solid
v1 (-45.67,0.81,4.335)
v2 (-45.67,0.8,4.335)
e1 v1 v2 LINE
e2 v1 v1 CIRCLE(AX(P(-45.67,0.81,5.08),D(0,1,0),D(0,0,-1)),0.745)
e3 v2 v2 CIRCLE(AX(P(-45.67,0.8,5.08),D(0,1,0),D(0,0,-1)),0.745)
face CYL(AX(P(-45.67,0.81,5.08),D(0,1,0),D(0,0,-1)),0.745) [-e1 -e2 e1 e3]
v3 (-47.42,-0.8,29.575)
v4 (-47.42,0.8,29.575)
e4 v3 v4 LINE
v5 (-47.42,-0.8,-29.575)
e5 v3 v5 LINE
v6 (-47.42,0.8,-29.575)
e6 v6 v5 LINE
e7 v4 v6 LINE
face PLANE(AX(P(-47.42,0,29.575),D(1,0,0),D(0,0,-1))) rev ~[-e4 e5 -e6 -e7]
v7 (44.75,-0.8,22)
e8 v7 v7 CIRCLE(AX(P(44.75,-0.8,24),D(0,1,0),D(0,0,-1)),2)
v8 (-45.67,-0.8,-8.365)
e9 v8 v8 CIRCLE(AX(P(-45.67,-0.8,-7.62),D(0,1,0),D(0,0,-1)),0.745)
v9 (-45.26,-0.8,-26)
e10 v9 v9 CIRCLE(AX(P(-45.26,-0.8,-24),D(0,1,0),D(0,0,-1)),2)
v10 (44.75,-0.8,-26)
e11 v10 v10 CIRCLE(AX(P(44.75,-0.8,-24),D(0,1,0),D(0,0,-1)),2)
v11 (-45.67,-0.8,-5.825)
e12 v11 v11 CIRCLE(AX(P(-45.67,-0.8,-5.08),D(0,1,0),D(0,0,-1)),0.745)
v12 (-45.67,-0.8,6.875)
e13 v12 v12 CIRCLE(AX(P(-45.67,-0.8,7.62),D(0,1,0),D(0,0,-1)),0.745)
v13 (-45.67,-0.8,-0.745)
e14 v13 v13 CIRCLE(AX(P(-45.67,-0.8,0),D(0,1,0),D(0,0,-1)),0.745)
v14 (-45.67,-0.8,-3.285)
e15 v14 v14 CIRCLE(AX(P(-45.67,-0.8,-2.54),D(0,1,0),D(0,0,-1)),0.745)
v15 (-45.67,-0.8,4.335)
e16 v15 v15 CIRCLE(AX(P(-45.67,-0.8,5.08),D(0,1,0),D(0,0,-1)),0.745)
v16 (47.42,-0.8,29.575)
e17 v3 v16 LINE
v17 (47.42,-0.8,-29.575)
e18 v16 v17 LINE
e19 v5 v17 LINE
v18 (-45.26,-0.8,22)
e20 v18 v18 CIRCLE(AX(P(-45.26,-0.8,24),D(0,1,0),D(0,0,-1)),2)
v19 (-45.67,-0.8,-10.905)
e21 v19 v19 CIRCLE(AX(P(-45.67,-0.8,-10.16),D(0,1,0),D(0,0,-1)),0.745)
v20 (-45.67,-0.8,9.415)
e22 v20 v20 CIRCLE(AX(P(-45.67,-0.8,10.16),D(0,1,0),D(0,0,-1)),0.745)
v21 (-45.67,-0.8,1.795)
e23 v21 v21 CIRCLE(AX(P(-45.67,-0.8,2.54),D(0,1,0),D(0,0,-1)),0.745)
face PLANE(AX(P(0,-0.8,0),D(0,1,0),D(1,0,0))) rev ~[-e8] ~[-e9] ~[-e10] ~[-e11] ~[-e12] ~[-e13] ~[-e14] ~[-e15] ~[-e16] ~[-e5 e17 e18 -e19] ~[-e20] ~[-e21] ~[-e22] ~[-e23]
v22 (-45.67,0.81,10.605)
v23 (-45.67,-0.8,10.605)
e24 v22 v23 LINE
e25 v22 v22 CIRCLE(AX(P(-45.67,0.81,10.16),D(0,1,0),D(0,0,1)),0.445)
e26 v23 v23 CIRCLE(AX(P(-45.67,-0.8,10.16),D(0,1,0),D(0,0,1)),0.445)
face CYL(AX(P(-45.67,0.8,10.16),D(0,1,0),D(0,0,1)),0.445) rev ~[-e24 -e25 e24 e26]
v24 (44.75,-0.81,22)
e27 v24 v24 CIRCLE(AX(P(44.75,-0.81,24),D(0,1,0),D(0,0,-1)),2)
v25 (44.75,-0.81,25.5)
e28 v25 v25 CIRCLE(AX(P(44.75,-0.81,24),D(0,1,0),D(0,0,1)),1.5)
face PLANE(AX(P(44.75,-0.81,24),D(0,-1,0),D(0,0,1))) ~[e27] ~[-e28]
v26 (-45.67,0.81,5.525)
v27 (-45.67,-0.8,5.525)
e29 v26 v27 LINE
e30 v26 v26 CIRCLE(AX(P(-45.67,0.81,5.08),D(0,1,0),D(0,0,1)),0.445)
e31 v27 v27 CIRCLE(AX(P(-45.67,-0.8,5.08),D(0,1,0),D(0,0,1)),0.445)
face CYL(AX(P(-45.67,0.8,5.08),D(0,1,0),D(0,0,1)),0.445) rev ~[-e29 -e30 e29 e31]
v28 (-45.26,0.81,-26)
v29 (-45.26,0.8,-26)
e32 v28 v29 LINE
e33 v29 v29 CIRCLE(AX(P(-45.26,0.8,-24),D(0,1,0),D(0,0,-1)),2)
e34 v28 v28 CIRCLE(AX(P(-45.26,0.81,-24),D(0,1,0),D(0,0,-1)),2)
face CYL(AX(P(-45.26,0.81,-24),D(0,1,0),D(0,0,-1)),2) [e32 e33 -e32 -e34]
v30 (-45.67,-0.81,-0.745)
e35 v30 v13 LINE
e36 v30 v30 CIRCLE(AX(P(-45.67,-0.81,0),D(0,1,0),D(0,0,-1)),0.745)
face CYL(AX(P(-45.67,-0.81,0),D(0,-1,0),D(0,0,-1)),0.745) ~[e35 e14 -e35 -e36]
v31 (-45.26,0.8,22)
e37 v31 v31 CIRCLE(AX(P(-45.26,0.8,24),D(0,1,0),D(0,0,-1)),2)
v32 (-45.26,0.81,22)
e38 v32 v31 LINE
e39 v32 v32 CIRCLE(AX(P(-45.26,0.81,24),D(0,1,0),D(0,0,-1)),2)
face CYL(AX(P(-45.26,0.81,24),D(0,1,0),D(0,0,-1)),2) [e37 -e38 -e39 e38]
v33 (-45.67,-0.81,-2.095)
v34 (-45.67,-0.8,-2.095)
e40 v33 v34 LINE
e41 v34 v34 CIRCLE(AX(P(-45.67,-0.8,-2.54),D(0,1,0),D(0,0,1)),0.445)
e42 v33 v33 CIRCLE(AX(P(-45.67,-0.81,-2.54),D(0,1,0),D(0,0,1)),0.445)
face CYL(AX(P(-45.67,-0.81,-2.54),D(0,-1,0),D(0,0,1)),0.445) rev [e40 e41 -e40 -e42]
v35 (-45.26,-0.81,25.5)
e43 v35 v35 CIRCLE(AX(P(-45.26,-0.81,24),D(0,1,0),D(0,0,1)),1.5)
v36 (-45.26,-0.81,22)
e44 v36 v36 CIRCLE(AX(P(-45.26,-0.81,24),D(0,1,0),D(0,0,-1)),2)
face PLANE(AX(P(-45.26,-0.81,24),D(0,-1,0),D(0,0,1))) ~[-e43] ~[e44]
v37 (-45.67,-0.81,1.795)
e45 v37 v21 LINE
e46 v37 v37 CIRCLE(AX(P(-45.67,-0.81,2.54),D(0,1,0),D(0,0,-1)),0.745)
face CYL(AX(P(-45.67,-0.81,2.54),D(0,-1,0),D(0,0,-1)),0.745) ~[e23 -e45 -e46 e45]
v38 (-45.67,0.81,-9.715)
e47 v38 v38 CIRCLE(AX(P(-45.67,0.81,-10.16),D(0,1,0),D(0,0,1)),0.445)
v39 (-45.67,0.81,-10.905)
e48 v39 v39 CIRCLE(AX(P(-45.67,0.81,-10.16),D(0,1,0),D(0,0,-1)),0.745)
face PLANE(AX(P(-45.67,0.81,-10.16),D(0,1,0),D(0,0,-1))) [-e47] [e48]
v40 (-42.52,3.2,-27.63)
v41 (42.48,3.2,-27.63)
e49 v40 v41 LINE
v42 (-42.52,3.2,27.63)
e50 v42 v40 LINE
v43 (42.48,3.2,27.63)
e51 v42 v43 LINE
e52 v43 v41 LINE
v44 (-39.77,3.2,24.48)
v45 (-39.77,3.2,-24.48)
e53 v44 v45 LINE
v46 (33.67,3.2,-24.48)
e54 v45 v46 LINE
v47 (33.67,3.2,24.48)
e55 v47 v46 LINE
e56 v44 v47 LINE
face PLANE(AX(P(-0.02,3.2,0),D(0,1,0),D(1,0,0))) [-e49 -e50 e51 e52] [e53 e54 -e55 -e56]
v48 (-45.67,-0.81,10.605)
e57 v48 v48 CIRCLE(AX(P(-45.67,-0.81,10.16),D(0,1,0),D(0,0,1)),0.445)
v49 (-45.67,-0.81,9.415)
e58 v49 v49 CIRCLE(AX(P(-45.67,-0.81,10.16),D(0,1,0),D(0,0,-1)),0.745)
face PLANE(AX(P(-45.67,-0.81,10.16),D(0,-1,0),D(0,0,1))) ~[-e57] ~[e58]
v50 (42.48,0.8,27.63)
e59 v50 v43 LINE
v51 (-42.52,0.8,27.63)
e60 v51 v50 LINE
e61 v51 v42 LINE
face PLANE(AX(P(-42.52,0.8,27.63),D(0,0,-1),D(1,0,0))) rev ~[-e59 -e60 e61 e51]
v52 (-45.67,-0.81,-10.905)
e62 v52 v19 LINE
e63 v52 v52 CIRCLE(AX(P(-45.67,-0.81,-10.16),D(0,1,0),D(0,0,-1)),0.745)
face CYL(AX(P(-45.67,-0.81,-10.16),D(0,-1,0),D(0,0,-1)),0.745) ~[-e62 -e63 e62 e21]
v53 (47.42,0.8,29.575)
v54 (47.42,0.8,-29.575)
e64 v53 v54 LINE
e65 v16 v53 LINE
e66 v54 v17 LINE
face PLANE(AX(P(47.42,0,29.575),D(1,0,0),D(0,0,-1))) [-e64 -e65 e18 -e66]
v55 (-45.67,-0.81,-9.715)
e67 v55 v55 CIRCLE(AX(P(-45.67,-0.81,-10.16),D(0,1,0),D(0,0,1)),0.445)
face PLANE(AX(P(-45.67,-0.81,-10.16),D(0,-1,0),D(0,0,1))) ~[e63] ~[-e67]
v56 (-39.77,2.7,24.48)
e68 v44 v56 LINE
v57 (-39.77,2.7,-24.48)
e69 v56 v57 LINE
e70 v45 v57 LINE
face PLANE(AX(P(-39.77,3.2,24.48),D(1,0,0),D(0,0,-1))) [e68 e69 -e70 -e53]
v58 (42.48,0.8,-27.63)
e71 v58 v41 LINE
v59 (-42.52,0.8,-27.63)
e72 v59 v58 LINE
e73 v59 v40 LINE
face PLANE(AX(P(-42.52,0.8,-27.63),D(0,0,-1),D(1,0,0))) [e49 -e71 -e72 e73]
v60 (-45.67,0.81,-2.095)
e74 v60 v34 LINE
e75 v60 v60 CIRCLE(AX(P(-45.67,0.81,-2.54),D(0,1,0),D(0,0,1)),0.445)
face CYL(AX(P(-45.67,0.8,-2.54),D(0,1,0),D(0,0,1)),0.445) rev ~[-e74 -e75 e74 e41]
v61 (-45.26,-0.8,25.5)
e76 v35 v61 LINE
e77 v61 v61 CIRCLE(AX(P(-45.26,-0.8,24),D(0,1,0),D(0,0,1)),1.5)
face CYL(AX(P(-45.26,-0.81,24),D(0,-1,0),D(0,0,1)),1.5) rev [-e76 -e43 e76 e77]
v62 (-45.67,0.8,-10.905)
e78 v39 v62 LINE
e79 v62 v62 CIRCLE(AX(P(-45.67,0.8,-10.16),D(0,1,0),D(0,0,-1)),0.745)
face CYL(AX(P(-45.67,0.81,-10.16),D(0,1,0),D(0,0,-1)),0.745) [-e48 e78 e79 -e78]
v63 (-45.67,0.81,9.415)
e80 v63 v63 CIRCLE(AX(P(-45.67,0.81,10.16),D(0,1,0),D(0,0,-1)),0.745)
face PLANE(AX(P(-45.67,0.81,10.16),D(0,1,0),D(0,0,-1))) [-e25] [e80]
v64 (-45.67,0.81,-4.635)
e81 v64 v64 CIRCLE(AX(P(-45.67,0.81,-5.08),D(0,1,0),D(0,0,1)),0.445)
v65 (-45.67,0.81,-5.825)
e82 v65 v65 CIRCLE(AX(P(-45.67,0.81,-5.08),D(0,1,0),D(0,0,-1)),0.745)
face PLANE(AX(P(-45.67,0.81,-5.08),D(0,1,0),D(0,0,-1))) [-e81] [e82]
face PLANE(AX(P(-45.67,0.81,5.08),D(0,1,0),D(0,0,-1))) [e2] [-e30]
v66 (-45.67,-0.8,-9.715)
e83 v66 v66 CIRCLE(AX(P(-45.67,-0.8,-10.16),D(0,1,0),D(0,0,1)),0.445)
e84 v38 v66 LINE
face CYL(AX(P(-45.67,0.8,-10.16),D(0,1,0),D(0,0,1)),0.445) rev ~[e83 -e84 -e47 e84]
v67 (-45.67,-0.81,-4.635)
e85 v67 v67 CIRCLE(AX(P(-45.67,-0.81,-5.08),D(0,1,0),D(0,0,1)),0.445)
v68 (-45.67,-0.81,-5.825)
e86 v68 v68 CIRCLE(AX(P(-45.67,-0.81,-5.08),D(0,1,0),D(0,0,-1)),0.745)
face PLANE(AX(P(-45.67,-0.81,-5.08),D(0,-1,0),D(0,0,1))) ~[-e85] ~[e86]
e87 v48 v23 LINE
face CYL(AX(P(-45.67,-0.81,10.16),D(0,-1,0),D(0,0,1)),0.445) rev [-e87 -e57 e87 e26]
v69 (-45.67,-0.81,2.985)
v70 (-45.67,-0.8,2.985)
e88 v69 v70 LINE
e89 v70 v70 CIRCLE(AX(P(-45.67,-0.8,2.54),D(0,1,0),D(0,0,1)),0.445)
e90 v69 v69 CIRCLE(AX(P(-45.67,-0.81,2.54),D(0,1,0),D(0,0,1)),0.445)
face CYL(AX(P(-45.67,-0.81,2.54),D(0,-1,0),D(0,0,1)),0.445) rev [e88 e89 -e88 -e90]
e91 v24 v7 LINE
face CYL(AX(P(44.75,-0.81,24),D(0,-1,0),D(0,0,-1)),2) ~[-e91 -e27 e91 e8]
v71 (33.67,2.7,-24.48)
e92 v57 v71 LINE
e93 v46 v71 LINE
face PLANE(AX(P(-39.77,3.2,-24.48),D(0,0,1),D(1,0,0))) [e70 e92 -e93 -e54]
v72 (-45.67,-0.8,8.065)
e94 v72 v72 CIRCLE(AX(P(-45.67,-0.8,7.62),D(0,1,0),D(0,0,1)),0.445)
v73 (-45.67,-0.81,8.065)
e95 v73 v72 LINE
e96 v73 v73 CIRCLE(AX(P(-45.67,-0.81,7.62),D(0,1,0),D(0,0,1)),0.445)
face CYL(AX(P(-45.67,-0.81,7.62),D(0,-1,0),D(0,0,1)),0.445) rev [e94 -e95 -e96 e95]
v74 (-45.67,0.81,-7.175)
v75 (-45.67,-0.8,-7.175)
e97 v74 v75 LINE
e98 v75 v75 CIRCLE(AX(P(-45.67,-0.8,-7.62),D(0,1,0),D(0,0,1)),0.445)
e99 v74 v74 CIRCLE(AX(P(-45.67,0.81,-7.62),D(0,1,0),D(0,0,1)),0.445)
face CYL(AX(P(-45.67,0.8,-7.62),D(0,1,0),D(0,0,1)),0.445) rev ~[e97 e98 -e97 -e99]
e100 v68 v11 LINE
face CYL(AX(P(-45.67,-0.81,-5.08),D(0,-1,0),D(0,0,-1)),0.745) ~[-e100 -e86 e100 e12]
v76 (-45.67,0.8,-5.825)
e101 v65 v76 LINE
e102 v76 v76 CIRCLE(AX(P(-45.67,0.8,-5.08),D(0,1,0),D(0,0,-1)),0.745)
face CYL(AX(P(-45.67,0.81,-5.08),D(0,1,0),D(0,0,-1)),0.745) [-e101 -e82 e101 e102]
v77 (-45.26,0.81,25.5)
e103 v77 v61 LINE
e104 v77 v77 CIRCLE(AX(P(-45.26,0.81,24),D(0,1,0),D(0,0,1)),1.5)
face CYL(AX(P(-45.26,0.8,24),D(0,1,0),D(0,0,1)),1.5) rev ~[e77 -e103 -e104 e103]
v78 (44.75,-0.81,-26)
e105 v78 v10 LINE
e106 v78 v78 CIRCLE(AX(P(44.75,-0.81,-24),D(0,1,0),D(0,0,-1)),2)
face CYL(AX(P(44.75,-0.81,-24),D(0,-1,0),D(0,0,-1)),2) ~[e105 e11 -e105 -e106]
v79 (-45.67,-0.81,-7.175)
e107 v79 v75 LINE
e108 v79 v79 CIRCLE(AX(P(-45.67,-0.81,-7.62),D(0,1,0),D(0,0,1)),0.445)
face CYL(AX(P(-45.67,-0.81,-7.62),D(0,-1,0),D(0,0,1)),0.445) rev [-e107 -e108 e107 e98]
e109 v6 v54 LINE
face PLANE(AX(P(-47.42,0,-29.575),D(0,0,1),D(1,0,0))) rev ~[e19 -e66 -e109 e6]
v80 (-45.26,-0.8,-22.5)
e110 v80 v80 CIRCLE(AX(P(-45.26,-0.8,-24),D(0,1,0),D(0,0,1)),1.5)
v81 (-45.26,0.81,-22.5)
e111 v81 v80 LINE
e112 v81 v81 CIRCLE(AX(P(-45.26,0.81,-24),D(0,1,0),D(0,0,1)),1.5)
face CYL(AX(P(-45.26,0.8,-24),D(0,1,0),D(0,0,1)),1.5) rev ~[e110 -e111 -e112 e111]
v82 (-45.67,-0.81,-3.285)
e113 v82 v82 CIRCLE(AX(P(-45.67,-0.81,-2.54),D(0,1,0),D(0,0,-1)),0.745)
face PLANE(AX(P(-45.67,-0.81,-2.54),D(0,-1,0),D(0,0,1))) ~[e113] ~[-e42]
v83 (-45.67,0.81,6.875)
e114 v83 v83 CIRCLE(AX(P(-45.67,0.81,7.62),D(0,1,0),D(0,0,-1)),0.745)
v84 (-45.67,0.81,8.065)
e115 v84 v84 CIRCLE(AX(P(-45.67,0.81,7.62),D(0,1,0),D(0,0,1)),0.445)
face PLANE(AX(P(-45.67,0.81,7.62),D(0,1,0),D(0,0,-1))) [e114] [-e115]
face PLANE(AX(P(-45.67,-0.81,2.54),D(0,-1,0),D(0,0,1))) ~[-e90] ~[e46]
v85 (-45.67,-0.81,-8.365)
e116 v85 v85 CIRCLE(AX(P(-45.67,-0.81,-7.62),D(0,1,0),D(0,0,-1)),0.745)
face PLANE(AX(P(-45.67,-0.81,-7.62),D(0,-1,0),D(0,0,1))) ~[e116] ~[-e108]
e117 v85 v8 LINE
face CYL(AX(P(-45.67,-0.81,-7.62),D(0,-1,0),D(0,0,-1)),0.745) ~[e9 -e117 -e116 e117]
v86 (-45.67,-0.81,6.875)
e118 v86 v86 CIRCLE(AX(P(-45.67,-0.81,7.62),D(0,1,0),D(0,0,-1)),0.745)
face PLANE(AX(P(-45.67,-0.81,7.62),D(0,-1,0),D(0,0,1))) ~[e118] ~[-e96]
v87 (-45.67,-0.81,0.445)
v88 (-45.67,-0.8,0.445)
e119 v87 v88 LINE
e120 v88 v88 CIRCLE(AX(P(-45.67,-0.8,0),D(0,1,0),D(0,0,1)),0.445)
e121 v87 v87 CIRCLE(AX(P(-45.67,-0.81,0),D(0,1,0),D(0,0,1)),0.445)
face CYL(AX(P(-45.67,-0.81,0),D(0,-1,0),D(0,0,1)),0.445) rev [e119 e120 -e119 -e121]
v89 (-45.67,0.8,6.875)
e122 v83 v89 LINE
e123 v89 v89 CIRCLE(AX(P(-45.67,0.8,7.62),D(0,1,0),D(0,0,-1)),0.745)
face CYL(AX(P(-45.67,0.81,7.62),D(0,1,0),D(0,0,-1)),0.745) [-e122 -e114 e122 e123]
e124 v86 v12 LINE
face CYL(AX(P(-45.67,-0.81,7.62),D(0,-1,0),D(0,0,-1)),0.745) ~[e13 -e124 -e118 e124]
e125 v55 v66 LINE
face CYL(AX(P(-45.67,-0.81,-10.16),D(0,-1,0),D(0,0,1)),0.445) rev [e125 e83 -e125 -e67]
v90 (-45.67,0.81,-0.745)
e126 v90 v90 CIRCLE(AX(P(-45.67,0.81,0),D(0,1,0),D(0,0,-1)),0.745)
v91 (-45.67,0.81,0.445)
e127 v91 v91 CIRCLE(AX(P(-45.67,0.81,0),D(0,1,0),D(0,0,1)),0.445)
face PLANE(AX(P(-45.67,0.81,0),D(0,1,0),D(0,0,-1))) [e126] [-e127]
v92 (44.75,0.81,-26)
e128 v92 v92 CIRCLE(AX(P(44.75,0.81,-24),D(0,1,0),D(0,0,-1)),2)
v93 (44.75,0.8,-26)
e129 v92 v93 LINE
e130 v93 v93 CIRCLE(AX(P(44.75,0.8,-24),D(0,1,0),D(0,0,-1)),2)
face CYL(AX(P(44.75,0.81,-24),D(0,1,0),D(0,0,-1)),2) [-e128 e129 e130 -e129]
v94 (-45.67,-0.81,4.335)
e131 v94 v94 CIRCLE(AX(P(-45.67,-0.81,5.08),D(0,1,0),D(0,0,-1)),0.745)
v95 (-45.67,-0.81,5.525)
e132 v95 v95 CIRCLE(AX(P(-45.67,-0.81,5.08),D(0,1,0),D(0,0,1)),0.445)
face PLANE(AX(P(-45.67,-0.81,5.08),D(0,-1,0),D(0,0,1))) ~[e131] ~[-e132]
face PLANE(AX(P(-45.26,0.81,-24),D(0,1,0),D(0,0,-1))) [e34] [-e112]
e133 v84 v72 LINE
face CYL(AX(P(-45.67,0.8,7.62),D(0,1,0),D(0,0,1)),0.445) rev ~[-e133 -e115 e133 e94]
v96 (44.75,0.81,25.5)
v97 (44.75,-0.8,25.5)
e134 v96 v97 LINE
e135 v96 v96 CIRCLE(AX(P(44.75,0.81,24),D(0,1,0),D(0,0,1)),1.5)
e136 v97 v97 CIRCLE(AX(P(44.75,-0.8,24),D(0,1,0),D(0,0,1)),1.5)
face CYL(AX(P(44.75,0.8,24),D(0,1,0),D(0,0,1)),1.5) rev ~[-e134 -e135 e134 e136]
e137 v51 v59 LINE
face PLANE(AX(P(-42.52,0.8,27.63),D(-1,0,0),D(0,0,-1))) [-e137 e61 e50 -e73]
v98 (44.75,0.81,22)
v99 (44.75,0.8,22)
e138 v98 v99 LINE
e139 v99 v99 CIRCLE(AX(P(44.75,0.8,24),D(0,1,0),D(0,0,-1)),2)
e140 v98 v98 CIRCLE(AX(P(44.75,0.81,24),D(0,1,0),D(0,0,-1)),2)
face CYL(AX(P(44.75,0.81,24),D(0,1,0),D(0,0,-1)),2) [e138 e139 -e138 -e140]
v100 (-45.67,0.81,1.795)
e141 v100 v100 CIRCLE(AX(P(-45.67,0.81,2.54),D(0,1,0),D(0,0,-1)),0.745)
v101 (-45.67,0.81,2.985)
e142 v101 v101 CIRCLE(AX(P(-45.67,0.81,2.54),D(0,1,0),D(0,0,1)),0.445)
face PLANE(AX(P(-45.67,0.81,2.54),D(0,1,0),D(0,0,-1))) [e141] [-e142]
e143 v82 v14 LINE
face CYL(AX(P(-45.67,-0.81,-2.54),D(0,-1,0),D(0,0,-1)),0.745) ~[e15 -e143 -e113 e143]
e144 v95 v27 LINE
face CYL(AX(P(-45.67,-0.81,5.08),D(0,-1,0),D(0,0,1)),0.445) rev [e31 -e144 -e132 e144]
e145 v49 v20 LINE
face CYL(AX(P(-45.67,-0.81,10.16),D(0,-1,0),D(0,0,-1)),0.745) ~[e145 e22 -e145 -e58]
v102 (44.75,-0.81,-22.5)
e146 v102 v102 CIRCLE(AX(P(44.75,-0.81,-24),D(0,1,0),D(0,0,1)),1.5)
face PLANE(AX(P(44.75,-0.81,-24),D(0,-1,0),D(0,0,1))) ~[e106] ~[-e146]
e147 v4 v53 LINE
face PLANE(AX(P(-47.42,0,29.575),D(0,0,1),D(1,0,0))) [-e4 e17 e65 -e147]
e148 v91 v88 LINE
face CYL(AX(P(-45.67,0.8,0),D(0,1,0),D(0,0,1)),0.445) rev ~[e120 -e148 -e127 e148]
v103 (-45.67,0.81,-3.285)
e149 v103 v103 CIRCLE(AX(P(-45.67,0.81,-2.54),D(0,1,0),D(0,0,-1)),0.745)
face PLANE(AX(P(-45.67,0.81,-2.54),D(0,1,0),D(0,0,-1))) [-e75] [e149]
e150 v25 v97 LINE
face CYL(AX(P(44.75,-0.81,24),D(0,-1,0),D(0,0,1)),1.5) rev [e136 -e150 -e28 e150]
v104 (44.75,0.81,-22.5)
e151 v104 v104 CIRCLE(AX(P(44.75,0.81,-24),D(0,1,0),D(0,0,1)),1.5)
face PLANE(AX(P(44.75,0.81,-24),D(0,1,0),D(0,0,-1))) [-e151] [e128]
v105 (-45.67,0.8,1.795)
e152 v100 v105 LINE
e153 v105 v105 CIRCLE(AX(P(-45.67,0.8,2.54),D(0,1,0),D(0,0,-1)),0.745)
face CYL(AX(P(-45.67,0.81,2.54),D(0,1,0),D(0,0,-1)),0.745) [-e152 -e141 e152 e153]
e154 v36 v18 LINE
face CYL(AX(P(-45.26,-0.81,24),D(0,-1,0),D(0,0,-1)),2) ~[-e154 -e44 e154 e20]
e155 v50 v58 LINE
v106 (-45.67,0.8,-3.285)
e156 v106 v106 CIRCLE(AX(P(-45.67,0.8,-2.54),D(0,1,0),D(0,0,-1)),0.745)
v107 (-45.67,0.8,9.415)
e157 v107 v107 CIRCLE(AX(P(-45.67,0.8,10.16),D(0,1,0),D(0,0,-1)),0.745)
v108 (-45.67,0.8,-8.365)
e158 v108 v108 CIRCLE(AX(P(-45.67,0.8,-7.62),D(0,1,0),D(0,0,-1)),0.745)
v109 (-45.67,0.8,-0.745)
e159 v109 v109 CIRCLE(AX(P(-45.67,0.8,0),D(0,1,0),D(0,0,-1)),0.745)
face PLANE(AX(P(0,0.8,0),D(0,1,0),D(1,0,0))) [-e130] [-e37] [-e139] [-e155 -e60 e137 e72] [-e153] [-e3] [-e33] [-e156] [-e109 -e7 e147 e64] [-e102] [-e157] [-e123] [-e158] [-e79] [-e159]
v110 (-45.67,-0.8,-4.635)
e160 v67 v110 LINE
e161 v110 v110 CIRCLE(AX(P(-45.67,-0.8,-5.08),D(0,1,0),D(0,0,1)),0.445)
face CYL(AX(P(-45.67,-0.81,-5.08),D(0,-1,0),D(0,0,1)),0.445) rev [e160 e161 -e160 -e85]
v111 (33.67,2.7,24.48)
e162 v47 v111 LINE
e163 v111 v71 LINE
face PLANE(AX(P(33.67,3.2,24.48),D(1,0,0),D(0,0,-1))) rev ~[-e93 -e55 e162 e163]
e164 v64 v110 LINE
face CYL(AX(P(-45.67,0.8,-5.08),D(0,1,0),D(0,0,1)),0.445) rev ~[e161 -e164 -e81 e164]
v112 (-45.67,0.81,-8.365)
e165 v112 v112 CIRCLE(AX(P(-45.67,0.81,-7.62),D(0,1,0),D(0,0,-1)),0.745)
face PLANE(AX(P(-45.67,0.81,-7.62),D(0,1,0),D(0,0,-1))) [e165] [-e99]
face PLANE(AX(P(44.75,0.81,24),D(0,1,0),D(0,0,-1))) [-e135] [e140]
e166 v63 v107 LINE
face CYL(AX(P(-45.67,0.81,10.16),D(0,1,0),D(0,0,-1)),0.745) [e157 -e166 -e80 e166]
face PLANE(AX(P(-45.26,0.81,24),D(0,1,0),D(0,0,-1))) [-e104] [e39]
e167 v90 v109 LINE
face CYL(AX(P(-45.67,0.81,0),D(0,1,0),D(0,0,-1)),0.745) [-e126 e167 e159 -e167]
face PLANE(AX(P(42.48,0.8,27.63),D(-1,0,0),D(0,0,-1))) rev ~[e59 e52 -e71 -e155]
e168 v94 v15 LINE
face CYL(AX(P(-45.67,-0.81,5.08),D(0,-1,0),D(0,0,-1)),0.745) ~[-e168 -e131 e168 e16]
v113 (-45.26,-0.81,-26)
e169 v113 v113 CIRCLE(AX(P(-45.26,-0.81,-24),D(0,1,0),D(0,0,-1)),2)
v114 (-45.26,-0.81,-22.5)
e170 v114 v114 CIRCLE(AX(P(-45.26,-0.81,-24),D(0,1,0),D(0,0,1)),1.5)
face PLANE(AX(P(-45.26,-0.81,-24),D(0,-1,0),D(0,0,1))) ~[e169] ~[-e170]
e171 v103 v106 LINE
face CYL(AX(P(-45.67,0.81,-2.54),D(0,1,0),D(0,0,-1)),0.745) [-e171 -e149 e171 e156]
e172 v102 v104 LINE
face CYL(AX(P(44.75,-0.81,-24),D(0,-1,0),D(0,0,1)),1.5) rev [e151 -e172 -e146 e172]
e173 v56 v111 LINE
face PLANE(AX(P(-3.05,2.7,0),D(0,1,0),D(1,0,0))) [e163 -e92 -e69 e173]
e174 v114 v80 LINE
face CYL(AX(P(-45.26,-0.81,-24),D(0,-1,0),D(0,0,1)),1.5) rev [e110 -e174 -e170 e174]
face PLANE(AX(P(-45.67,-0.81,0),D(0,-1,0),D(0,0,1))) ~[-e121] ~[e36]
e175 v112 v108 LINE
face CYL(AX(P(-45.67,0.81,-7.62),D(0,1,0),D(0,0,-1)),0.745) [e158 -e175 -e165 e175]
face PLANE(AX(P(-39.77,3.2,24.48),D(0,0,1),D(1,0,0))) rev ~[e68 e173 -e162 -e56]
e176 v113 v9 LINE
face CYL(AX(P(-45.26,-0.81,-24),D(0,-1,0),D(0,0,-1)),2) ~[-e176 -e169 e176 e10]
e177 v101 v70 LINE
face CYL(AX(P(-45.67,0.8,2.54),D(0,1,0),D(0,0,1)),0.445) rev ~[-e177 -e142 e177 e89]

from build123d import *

# Parameters (mm, degrees)
SCHIZZO1_W                   = 94.84
SCHIZZO1_H                   = 59.15
ESTRUSIONE_ESTRUSIONE1_DEPTH = 0.8
SCHIZZO2_R                   = 1.5
TAGLIO_ESTRUSIONE1_DEPTH     = 56.909722097
SCHIZZO3_R                   = 0.445
TAGLIO_ESTRUSIONE2_DEPTH     = 56.909722097
ESTRUSIONE_ESTRUSIONE2_START = 0.01
SCHIZZO4_R                   = 2
SCHIZZO4_R_2                 = 1.5
SCHIZZO4_R_3                 = 0.745
SCHIZZO4_R_4                 = 0.445
ESTRUSIONE_ESTRUSIONE2_DEPTH = 0.01
SCHIZZO5_W                   = 85
SCHIZZO5_H                   = 55.26
ESTRUSIONE_ESTRUSIONE3_DEPTH = 2.4
SCHIZZO7_W                   = 73.44
SCHIZZO7_H                   = 48.96
TAGLIO_ESTRUSIONE3_DEPTH     = 0.5


with BuildPart() as part:
    # Schizzo1 → Estrusione-Estrusione1 (new, symmetric)
    with BuildSketch(Plane(origin=(0, 0, 0), x_dir=(1, 0, 0), z_dir=(0, 1, 0))):
        Rectangle(SCHIZZO1_W, SCHIZZO1_H)
    extrude(amount=ESTRUSIONE_ESTRUSIONE1_DEPTH, both=True)

    # Schizzo2 → Taglio-Estrusione1 (cut, through all)
    with BuildSketch(Plane(origin=(0, 0.8, 0), x_dir=(1, 0, 0), z_dir=(0, 1, 0))):
        with Locations(Location((-45.26, 24, 0), (0, 0, 270))):
            Circle(SCHIZZO2_R)
        with Locations(Location((44.75, 24, 0), (0, 0, 270))):
            Circle(SCHIZZO2_R)
        with Locations(Location((44.75, -24, 0), (0, 0, 270))):
            Circle(SCHIZZO2_R)
        with Locations(Location((-45.26, -24, 0), (0, 0, 270))):
            Circle(SCHIZZO2_R)
    extrude(amount=-TAGLIO_ESTRUSIONE1_DEPTH, mode=Mode.SUBTRACT)

    # Schizzo3 → Taglio-Estrusione2 (cut, through all)
    with BuildSketch(Plane(origin=(0, 0.8, 0), x_dir=(1, 0, 0), z_dir=(0, 1, 0))):
        with Locations(Location((-45.67, 0, 0), (0, 0, 270))):
            Circle(SCHIZZO3_R)
        with Locations(Location((-45.67, -2.54, 0), (0, 0, 270))):
            Circle(SCHIZZO3_R)
        with Locations(Location((-45.67, -5.08, 0), (0, 0, 270))):
            Circle(SCHIZZO3_R)
        with Locations(Location((-45.67, -7.62, 0), (0, 0, 270))):
            Circle(SCHIZZO3_R)
        with Locations(Location((-45.67, -10.16, 0), (0, 0, 270))):
            Circle(SCHIZZO3_R)
        with Locations(Location((-45.67, 2.54, 0), (0, 0, 270))):
            Circle(SCHIZZO3_R)
        with Locations(Location((-45.67, 5.08, 0), (0, 0, 270))):
            Circle(SCHIZZO3_R)
        with Locations(Location((-45.67, 7.62, 0), (0, 0, 270))):
            Circle(SCHIZZO3_R)
        with Locations(Location((-45.67, 10.16, 0), (0, 0, 270))):
            Circle(SCHIZZO3_R)
    extrude(amount=-TAGLIO_ESTRUSIONE2_DEPTH, mode=Mode.SUBTRACT)

    # Schizzo4 → Estrusione-Estrusione2 (add)
    # profile 1 of 13: a face of its own
    with BuildSketch(Plane(origin=(0, 0.8, 0), x_dir=(1, 0, 0), z_dir=(0, 1, 0)).offset(ESTRUSIONE_ESTRUSIONE2_START)):
        with Locations(Location((44.75, 24, 0), (0, 0, 90))):
            Circle(SCHIZZO4_R)
        with Locations(Location((44.75, 24, 0), (0, 0, 270))):
            Circle(SCHIZZO4_R_2, mode=Mode.SUBTRACT)
    # profile 2 of 13: a face of its own
    with BuildSketch(Plane(origin=(0, 0.8, 0), x_dir=(1, 0, 0), z_dir=(0, 1, 0)).offset(ESTRUSIONE_ESTRUSIONE2_START)):
        with Locations(Location((-45.26, 24, 0), (0, 0, 90))):
            Circle(SCHIZZO4_R)
        with Locations(Location((-45.26, 24, 0), (0, 0, 270))):
            Circle(SCHIZZO4_R_2, mode=Mode.SUBTRACT)
    # profile 3 of 13: a face of its own
    with BuildSketch(Plane(origin=(0, 0.8, 0), x_dir=(1, 0, 0), z_dir=(0, 1, 0)).offset(ESTRUSIONE_ESTRUSIONE2_START)):
        with Locations(Location((-45.26, -24, 0), (0, 0, 90))):
            Circle(SCHIZZO4_R)
        with Locations(Location((-45.26, -24, 0), (0, 0, 270))):
            Circle(SCHIZZO4_R_2, mode=Mode.SUBTRACT)
    # profile 4 of 13: a face of its own
    with BuildSketch(Plane(origin=(0, 0.8, 0), x_dir=(1, 0, 0), z_dir=(0, 1, 0)).offset(ESTRUSIONE_ESTRUSIONE2_START)):
        with Locations(Location((44.75, -24, 0), (0, 0, 90))):
            Circle(SCHIZZO4_R)
        with Locations(Location((44.75, -24, 0), (0, 0, 270))):
            Circle(SCHIZZO4_R_2, mode=Mode.SUBTRACT)
    # profile 5 of 13: a face of its own
    with BuildSketch(Plane(origin=(0, 0.8, 0), x_dir=(1, 0, 0), z_dir=(0, 1, 0)).offset(ESTRUSIONE_ESTRUSIONE2_START)):
        with Locations(Location((-45.67, 10.16, 0), (0, 0, 90))):
            Circle(SCHIZZO4_R_3)
        with Locations(Location((-45.67, 10.16, 0), (0, 0, 270))):
            Circle(SCHIZZO4_R_4, mode=Mode.SUBTRACT)
    # profile 6 of 13: a face of its own
    with BuildSketch(Plane(origin=(0, 0.8, 0), x_dir=(1, 0, 0), z_dir=(0, 1, 0)).offset(ESTRUSIONE_ESTRUSIONE2_START)):
        with Locations(Location((-45.67, 7.62, 0), (0, 0, 90))):
            Circle(SCHIZZO4_R_3)
        with Locations(Location((-45.67, 7.62, 0), (0, 0, 270))):
            Circle(SCHIZZO4_R_4, mode=Mode.SUBTRACT)
    # profile 7 of 13: a face of its own
    with BuildSketch(Plane(origin=(0, 0.8, 0), x_dir=(1, 0, 0), z_dir=(0, 1, 0)).offset(ESTRUSIONE_ESTRUSIONE2_START)):
        with Locations(Location((-45.67, 5.08, 0), (0, 0, 90))):
            Circle(SCHIZZO4_R_3)
        with Locations(Location((-45.67, 5.08, 0), (0, 0, 270))):
            Circle(SCHIZZO4_R_4, mode=Mode.SUBTRACT)
    # profile 8 of 13: a face of its own
    with BuildSketch(Plane(origin=(0, 0.8, 0), x_dir=(1, 0, 0), z_dir=(0, 1, 0)).offset(ESTRUSIONE_ESTRUSIONE2_START)):
        with Locations(Location((-45.67, 2.54, 0), (0, 0, 90))):
            Circle(SCHIZZO4_R_3)
        with Locations(Location((-45.67, 2.54, 0), (0, 0, 270))):
            Circle(SCHIZZO4_R_4, mode=Mode.SUBTRACT)
    # profile 9 of 13: a face of its own
    with BuildSketch(Plane(origin=(0, 0.8, 0), x_dir=(1, 0, 0), z_dir=(0, 1, 0)).offset(ESTRUSIONE_ESTRUSIONE2_START)):
        with Locations(Location((-45.67, 0, 0), (0, 0, 90))):
            Circle(SCHIZZO4_R_3)
        with Locations(Location((-45.67, 0, 0), (0, 0, 270))):
            Circle(SCHIZZO4_R_4, mode=Mode.SUBTRACT)
    # profile 10 of 13: a face of its own
    with BuildSketch(Plane(origin=(0, 0.8, 0), x_dir=(1, 0, 0), z_dir=(0, 1, 0)).offset(ESTRUSIONE_ESTRUSIONE2_START)):
        with Locations(Location((-45.67, -2.54, 0), (0, 0, 90))):
            Circle(SCHIZZO4_R_3)
        with Locations(Location((-45.67, -2.54, 0), (0, 0, 270))):
            Circle(SCHIZZO4_R_4, mode=Mode.SUBTRACT)
    # profile 11 of 13: a face of its own
    with BuildSketch(Plane(origin=(0, 0.8, 0), x_dir=(1, 0, 0), z_dir=(0, 1, 0)).offset(ESTRUSIONE_ESTRUSIONE2_START)):
        with Locations(Location((-45.67, -5.08, 0), (0, 0, 90))):
            Circle(SCHIZZO4_R_3)
        with Locations(Location((-45.67, -5.08, 0), (0, 0, 270))):
            Circle(SCHIZZO4_R_4, mode=Mode.SUBTRACT)
    # profile 12 of 13: a face of its own
    with BuildSketch(Plane(origin=(0, 0.8, 0), x_dir=(1, 0, 0), z_dir=(0, 1, 0)).offset(ESTRUSIONE_ESTRUSIONE2_START)):
        with Locations(Location((-45.67, -7.62, 0), (0, 0, 90))):
            Circle(SCHIZZO4_R_3)
        with Locations(Location((-45.67, -7.62, 0), (0, 0, 270))):
            Circle(SCHIZZO4_R_4, mode=Mode.SUBTRACT)
    # profile 13 of 13: a face of its own
    with BuildSketch(Plane(origin=(0, 0.8, 0), x_dir=(1, 0, 0), z_dir=(0, 1, 0)).offset(ESTRUSIONE_ESTRUSIONE2_START)):
        with Locations(Location((-45.67, -10.16, 0), (0, 0, 90))):
            Circle(SCHIZZO4_R_3)
        with Locations(Location((-45.67, -10.16, 0), (0, 0, 270))):
            Circle(SCHIZZO4_R_4, mode=Mode.SUBTRACT)
    estrusione_estrusione2 = extrude(amount=-ESTRUSIONE_ESTRUSIONE2_DEPTH)

    # Specchia1: Estrusione-Estrusione2 across plane
    add(estrusione_estrusione2.mirror(Plane.ZX))

    # Schizzo5 → Estrusione-Estrusione3 (add)
    with BuildSketch(Plane(origin=(0, 0.8, 0), x_dir=(1, 0, 0), z_dir=(0, 1, 0))):
        with Locations((-0.02, 0)):
            Rectangle(SCHIZZO5_W, SCHIZZO5_H)
    extrude(amount=ESTRUSIONE_ESTRUSIONE3_DEPTH)

    # Schizzo7 → Taglio-Estrusione3 (cut)
    with BuildSketch(Plane(origin=(0, 3.2, 0), x_dir=(1, 0, 0), z_dir=(0, 1, 0))):
        with Locations((-3.05, 0)):
            Rectangle(SCHIZZO7_W, SCHIZZO7_H)
    extrude(amount=-TAGLIO_ESTRUSIONE3_DEPTH, mode=Mode.SUBTRACT)


solid = part.part
